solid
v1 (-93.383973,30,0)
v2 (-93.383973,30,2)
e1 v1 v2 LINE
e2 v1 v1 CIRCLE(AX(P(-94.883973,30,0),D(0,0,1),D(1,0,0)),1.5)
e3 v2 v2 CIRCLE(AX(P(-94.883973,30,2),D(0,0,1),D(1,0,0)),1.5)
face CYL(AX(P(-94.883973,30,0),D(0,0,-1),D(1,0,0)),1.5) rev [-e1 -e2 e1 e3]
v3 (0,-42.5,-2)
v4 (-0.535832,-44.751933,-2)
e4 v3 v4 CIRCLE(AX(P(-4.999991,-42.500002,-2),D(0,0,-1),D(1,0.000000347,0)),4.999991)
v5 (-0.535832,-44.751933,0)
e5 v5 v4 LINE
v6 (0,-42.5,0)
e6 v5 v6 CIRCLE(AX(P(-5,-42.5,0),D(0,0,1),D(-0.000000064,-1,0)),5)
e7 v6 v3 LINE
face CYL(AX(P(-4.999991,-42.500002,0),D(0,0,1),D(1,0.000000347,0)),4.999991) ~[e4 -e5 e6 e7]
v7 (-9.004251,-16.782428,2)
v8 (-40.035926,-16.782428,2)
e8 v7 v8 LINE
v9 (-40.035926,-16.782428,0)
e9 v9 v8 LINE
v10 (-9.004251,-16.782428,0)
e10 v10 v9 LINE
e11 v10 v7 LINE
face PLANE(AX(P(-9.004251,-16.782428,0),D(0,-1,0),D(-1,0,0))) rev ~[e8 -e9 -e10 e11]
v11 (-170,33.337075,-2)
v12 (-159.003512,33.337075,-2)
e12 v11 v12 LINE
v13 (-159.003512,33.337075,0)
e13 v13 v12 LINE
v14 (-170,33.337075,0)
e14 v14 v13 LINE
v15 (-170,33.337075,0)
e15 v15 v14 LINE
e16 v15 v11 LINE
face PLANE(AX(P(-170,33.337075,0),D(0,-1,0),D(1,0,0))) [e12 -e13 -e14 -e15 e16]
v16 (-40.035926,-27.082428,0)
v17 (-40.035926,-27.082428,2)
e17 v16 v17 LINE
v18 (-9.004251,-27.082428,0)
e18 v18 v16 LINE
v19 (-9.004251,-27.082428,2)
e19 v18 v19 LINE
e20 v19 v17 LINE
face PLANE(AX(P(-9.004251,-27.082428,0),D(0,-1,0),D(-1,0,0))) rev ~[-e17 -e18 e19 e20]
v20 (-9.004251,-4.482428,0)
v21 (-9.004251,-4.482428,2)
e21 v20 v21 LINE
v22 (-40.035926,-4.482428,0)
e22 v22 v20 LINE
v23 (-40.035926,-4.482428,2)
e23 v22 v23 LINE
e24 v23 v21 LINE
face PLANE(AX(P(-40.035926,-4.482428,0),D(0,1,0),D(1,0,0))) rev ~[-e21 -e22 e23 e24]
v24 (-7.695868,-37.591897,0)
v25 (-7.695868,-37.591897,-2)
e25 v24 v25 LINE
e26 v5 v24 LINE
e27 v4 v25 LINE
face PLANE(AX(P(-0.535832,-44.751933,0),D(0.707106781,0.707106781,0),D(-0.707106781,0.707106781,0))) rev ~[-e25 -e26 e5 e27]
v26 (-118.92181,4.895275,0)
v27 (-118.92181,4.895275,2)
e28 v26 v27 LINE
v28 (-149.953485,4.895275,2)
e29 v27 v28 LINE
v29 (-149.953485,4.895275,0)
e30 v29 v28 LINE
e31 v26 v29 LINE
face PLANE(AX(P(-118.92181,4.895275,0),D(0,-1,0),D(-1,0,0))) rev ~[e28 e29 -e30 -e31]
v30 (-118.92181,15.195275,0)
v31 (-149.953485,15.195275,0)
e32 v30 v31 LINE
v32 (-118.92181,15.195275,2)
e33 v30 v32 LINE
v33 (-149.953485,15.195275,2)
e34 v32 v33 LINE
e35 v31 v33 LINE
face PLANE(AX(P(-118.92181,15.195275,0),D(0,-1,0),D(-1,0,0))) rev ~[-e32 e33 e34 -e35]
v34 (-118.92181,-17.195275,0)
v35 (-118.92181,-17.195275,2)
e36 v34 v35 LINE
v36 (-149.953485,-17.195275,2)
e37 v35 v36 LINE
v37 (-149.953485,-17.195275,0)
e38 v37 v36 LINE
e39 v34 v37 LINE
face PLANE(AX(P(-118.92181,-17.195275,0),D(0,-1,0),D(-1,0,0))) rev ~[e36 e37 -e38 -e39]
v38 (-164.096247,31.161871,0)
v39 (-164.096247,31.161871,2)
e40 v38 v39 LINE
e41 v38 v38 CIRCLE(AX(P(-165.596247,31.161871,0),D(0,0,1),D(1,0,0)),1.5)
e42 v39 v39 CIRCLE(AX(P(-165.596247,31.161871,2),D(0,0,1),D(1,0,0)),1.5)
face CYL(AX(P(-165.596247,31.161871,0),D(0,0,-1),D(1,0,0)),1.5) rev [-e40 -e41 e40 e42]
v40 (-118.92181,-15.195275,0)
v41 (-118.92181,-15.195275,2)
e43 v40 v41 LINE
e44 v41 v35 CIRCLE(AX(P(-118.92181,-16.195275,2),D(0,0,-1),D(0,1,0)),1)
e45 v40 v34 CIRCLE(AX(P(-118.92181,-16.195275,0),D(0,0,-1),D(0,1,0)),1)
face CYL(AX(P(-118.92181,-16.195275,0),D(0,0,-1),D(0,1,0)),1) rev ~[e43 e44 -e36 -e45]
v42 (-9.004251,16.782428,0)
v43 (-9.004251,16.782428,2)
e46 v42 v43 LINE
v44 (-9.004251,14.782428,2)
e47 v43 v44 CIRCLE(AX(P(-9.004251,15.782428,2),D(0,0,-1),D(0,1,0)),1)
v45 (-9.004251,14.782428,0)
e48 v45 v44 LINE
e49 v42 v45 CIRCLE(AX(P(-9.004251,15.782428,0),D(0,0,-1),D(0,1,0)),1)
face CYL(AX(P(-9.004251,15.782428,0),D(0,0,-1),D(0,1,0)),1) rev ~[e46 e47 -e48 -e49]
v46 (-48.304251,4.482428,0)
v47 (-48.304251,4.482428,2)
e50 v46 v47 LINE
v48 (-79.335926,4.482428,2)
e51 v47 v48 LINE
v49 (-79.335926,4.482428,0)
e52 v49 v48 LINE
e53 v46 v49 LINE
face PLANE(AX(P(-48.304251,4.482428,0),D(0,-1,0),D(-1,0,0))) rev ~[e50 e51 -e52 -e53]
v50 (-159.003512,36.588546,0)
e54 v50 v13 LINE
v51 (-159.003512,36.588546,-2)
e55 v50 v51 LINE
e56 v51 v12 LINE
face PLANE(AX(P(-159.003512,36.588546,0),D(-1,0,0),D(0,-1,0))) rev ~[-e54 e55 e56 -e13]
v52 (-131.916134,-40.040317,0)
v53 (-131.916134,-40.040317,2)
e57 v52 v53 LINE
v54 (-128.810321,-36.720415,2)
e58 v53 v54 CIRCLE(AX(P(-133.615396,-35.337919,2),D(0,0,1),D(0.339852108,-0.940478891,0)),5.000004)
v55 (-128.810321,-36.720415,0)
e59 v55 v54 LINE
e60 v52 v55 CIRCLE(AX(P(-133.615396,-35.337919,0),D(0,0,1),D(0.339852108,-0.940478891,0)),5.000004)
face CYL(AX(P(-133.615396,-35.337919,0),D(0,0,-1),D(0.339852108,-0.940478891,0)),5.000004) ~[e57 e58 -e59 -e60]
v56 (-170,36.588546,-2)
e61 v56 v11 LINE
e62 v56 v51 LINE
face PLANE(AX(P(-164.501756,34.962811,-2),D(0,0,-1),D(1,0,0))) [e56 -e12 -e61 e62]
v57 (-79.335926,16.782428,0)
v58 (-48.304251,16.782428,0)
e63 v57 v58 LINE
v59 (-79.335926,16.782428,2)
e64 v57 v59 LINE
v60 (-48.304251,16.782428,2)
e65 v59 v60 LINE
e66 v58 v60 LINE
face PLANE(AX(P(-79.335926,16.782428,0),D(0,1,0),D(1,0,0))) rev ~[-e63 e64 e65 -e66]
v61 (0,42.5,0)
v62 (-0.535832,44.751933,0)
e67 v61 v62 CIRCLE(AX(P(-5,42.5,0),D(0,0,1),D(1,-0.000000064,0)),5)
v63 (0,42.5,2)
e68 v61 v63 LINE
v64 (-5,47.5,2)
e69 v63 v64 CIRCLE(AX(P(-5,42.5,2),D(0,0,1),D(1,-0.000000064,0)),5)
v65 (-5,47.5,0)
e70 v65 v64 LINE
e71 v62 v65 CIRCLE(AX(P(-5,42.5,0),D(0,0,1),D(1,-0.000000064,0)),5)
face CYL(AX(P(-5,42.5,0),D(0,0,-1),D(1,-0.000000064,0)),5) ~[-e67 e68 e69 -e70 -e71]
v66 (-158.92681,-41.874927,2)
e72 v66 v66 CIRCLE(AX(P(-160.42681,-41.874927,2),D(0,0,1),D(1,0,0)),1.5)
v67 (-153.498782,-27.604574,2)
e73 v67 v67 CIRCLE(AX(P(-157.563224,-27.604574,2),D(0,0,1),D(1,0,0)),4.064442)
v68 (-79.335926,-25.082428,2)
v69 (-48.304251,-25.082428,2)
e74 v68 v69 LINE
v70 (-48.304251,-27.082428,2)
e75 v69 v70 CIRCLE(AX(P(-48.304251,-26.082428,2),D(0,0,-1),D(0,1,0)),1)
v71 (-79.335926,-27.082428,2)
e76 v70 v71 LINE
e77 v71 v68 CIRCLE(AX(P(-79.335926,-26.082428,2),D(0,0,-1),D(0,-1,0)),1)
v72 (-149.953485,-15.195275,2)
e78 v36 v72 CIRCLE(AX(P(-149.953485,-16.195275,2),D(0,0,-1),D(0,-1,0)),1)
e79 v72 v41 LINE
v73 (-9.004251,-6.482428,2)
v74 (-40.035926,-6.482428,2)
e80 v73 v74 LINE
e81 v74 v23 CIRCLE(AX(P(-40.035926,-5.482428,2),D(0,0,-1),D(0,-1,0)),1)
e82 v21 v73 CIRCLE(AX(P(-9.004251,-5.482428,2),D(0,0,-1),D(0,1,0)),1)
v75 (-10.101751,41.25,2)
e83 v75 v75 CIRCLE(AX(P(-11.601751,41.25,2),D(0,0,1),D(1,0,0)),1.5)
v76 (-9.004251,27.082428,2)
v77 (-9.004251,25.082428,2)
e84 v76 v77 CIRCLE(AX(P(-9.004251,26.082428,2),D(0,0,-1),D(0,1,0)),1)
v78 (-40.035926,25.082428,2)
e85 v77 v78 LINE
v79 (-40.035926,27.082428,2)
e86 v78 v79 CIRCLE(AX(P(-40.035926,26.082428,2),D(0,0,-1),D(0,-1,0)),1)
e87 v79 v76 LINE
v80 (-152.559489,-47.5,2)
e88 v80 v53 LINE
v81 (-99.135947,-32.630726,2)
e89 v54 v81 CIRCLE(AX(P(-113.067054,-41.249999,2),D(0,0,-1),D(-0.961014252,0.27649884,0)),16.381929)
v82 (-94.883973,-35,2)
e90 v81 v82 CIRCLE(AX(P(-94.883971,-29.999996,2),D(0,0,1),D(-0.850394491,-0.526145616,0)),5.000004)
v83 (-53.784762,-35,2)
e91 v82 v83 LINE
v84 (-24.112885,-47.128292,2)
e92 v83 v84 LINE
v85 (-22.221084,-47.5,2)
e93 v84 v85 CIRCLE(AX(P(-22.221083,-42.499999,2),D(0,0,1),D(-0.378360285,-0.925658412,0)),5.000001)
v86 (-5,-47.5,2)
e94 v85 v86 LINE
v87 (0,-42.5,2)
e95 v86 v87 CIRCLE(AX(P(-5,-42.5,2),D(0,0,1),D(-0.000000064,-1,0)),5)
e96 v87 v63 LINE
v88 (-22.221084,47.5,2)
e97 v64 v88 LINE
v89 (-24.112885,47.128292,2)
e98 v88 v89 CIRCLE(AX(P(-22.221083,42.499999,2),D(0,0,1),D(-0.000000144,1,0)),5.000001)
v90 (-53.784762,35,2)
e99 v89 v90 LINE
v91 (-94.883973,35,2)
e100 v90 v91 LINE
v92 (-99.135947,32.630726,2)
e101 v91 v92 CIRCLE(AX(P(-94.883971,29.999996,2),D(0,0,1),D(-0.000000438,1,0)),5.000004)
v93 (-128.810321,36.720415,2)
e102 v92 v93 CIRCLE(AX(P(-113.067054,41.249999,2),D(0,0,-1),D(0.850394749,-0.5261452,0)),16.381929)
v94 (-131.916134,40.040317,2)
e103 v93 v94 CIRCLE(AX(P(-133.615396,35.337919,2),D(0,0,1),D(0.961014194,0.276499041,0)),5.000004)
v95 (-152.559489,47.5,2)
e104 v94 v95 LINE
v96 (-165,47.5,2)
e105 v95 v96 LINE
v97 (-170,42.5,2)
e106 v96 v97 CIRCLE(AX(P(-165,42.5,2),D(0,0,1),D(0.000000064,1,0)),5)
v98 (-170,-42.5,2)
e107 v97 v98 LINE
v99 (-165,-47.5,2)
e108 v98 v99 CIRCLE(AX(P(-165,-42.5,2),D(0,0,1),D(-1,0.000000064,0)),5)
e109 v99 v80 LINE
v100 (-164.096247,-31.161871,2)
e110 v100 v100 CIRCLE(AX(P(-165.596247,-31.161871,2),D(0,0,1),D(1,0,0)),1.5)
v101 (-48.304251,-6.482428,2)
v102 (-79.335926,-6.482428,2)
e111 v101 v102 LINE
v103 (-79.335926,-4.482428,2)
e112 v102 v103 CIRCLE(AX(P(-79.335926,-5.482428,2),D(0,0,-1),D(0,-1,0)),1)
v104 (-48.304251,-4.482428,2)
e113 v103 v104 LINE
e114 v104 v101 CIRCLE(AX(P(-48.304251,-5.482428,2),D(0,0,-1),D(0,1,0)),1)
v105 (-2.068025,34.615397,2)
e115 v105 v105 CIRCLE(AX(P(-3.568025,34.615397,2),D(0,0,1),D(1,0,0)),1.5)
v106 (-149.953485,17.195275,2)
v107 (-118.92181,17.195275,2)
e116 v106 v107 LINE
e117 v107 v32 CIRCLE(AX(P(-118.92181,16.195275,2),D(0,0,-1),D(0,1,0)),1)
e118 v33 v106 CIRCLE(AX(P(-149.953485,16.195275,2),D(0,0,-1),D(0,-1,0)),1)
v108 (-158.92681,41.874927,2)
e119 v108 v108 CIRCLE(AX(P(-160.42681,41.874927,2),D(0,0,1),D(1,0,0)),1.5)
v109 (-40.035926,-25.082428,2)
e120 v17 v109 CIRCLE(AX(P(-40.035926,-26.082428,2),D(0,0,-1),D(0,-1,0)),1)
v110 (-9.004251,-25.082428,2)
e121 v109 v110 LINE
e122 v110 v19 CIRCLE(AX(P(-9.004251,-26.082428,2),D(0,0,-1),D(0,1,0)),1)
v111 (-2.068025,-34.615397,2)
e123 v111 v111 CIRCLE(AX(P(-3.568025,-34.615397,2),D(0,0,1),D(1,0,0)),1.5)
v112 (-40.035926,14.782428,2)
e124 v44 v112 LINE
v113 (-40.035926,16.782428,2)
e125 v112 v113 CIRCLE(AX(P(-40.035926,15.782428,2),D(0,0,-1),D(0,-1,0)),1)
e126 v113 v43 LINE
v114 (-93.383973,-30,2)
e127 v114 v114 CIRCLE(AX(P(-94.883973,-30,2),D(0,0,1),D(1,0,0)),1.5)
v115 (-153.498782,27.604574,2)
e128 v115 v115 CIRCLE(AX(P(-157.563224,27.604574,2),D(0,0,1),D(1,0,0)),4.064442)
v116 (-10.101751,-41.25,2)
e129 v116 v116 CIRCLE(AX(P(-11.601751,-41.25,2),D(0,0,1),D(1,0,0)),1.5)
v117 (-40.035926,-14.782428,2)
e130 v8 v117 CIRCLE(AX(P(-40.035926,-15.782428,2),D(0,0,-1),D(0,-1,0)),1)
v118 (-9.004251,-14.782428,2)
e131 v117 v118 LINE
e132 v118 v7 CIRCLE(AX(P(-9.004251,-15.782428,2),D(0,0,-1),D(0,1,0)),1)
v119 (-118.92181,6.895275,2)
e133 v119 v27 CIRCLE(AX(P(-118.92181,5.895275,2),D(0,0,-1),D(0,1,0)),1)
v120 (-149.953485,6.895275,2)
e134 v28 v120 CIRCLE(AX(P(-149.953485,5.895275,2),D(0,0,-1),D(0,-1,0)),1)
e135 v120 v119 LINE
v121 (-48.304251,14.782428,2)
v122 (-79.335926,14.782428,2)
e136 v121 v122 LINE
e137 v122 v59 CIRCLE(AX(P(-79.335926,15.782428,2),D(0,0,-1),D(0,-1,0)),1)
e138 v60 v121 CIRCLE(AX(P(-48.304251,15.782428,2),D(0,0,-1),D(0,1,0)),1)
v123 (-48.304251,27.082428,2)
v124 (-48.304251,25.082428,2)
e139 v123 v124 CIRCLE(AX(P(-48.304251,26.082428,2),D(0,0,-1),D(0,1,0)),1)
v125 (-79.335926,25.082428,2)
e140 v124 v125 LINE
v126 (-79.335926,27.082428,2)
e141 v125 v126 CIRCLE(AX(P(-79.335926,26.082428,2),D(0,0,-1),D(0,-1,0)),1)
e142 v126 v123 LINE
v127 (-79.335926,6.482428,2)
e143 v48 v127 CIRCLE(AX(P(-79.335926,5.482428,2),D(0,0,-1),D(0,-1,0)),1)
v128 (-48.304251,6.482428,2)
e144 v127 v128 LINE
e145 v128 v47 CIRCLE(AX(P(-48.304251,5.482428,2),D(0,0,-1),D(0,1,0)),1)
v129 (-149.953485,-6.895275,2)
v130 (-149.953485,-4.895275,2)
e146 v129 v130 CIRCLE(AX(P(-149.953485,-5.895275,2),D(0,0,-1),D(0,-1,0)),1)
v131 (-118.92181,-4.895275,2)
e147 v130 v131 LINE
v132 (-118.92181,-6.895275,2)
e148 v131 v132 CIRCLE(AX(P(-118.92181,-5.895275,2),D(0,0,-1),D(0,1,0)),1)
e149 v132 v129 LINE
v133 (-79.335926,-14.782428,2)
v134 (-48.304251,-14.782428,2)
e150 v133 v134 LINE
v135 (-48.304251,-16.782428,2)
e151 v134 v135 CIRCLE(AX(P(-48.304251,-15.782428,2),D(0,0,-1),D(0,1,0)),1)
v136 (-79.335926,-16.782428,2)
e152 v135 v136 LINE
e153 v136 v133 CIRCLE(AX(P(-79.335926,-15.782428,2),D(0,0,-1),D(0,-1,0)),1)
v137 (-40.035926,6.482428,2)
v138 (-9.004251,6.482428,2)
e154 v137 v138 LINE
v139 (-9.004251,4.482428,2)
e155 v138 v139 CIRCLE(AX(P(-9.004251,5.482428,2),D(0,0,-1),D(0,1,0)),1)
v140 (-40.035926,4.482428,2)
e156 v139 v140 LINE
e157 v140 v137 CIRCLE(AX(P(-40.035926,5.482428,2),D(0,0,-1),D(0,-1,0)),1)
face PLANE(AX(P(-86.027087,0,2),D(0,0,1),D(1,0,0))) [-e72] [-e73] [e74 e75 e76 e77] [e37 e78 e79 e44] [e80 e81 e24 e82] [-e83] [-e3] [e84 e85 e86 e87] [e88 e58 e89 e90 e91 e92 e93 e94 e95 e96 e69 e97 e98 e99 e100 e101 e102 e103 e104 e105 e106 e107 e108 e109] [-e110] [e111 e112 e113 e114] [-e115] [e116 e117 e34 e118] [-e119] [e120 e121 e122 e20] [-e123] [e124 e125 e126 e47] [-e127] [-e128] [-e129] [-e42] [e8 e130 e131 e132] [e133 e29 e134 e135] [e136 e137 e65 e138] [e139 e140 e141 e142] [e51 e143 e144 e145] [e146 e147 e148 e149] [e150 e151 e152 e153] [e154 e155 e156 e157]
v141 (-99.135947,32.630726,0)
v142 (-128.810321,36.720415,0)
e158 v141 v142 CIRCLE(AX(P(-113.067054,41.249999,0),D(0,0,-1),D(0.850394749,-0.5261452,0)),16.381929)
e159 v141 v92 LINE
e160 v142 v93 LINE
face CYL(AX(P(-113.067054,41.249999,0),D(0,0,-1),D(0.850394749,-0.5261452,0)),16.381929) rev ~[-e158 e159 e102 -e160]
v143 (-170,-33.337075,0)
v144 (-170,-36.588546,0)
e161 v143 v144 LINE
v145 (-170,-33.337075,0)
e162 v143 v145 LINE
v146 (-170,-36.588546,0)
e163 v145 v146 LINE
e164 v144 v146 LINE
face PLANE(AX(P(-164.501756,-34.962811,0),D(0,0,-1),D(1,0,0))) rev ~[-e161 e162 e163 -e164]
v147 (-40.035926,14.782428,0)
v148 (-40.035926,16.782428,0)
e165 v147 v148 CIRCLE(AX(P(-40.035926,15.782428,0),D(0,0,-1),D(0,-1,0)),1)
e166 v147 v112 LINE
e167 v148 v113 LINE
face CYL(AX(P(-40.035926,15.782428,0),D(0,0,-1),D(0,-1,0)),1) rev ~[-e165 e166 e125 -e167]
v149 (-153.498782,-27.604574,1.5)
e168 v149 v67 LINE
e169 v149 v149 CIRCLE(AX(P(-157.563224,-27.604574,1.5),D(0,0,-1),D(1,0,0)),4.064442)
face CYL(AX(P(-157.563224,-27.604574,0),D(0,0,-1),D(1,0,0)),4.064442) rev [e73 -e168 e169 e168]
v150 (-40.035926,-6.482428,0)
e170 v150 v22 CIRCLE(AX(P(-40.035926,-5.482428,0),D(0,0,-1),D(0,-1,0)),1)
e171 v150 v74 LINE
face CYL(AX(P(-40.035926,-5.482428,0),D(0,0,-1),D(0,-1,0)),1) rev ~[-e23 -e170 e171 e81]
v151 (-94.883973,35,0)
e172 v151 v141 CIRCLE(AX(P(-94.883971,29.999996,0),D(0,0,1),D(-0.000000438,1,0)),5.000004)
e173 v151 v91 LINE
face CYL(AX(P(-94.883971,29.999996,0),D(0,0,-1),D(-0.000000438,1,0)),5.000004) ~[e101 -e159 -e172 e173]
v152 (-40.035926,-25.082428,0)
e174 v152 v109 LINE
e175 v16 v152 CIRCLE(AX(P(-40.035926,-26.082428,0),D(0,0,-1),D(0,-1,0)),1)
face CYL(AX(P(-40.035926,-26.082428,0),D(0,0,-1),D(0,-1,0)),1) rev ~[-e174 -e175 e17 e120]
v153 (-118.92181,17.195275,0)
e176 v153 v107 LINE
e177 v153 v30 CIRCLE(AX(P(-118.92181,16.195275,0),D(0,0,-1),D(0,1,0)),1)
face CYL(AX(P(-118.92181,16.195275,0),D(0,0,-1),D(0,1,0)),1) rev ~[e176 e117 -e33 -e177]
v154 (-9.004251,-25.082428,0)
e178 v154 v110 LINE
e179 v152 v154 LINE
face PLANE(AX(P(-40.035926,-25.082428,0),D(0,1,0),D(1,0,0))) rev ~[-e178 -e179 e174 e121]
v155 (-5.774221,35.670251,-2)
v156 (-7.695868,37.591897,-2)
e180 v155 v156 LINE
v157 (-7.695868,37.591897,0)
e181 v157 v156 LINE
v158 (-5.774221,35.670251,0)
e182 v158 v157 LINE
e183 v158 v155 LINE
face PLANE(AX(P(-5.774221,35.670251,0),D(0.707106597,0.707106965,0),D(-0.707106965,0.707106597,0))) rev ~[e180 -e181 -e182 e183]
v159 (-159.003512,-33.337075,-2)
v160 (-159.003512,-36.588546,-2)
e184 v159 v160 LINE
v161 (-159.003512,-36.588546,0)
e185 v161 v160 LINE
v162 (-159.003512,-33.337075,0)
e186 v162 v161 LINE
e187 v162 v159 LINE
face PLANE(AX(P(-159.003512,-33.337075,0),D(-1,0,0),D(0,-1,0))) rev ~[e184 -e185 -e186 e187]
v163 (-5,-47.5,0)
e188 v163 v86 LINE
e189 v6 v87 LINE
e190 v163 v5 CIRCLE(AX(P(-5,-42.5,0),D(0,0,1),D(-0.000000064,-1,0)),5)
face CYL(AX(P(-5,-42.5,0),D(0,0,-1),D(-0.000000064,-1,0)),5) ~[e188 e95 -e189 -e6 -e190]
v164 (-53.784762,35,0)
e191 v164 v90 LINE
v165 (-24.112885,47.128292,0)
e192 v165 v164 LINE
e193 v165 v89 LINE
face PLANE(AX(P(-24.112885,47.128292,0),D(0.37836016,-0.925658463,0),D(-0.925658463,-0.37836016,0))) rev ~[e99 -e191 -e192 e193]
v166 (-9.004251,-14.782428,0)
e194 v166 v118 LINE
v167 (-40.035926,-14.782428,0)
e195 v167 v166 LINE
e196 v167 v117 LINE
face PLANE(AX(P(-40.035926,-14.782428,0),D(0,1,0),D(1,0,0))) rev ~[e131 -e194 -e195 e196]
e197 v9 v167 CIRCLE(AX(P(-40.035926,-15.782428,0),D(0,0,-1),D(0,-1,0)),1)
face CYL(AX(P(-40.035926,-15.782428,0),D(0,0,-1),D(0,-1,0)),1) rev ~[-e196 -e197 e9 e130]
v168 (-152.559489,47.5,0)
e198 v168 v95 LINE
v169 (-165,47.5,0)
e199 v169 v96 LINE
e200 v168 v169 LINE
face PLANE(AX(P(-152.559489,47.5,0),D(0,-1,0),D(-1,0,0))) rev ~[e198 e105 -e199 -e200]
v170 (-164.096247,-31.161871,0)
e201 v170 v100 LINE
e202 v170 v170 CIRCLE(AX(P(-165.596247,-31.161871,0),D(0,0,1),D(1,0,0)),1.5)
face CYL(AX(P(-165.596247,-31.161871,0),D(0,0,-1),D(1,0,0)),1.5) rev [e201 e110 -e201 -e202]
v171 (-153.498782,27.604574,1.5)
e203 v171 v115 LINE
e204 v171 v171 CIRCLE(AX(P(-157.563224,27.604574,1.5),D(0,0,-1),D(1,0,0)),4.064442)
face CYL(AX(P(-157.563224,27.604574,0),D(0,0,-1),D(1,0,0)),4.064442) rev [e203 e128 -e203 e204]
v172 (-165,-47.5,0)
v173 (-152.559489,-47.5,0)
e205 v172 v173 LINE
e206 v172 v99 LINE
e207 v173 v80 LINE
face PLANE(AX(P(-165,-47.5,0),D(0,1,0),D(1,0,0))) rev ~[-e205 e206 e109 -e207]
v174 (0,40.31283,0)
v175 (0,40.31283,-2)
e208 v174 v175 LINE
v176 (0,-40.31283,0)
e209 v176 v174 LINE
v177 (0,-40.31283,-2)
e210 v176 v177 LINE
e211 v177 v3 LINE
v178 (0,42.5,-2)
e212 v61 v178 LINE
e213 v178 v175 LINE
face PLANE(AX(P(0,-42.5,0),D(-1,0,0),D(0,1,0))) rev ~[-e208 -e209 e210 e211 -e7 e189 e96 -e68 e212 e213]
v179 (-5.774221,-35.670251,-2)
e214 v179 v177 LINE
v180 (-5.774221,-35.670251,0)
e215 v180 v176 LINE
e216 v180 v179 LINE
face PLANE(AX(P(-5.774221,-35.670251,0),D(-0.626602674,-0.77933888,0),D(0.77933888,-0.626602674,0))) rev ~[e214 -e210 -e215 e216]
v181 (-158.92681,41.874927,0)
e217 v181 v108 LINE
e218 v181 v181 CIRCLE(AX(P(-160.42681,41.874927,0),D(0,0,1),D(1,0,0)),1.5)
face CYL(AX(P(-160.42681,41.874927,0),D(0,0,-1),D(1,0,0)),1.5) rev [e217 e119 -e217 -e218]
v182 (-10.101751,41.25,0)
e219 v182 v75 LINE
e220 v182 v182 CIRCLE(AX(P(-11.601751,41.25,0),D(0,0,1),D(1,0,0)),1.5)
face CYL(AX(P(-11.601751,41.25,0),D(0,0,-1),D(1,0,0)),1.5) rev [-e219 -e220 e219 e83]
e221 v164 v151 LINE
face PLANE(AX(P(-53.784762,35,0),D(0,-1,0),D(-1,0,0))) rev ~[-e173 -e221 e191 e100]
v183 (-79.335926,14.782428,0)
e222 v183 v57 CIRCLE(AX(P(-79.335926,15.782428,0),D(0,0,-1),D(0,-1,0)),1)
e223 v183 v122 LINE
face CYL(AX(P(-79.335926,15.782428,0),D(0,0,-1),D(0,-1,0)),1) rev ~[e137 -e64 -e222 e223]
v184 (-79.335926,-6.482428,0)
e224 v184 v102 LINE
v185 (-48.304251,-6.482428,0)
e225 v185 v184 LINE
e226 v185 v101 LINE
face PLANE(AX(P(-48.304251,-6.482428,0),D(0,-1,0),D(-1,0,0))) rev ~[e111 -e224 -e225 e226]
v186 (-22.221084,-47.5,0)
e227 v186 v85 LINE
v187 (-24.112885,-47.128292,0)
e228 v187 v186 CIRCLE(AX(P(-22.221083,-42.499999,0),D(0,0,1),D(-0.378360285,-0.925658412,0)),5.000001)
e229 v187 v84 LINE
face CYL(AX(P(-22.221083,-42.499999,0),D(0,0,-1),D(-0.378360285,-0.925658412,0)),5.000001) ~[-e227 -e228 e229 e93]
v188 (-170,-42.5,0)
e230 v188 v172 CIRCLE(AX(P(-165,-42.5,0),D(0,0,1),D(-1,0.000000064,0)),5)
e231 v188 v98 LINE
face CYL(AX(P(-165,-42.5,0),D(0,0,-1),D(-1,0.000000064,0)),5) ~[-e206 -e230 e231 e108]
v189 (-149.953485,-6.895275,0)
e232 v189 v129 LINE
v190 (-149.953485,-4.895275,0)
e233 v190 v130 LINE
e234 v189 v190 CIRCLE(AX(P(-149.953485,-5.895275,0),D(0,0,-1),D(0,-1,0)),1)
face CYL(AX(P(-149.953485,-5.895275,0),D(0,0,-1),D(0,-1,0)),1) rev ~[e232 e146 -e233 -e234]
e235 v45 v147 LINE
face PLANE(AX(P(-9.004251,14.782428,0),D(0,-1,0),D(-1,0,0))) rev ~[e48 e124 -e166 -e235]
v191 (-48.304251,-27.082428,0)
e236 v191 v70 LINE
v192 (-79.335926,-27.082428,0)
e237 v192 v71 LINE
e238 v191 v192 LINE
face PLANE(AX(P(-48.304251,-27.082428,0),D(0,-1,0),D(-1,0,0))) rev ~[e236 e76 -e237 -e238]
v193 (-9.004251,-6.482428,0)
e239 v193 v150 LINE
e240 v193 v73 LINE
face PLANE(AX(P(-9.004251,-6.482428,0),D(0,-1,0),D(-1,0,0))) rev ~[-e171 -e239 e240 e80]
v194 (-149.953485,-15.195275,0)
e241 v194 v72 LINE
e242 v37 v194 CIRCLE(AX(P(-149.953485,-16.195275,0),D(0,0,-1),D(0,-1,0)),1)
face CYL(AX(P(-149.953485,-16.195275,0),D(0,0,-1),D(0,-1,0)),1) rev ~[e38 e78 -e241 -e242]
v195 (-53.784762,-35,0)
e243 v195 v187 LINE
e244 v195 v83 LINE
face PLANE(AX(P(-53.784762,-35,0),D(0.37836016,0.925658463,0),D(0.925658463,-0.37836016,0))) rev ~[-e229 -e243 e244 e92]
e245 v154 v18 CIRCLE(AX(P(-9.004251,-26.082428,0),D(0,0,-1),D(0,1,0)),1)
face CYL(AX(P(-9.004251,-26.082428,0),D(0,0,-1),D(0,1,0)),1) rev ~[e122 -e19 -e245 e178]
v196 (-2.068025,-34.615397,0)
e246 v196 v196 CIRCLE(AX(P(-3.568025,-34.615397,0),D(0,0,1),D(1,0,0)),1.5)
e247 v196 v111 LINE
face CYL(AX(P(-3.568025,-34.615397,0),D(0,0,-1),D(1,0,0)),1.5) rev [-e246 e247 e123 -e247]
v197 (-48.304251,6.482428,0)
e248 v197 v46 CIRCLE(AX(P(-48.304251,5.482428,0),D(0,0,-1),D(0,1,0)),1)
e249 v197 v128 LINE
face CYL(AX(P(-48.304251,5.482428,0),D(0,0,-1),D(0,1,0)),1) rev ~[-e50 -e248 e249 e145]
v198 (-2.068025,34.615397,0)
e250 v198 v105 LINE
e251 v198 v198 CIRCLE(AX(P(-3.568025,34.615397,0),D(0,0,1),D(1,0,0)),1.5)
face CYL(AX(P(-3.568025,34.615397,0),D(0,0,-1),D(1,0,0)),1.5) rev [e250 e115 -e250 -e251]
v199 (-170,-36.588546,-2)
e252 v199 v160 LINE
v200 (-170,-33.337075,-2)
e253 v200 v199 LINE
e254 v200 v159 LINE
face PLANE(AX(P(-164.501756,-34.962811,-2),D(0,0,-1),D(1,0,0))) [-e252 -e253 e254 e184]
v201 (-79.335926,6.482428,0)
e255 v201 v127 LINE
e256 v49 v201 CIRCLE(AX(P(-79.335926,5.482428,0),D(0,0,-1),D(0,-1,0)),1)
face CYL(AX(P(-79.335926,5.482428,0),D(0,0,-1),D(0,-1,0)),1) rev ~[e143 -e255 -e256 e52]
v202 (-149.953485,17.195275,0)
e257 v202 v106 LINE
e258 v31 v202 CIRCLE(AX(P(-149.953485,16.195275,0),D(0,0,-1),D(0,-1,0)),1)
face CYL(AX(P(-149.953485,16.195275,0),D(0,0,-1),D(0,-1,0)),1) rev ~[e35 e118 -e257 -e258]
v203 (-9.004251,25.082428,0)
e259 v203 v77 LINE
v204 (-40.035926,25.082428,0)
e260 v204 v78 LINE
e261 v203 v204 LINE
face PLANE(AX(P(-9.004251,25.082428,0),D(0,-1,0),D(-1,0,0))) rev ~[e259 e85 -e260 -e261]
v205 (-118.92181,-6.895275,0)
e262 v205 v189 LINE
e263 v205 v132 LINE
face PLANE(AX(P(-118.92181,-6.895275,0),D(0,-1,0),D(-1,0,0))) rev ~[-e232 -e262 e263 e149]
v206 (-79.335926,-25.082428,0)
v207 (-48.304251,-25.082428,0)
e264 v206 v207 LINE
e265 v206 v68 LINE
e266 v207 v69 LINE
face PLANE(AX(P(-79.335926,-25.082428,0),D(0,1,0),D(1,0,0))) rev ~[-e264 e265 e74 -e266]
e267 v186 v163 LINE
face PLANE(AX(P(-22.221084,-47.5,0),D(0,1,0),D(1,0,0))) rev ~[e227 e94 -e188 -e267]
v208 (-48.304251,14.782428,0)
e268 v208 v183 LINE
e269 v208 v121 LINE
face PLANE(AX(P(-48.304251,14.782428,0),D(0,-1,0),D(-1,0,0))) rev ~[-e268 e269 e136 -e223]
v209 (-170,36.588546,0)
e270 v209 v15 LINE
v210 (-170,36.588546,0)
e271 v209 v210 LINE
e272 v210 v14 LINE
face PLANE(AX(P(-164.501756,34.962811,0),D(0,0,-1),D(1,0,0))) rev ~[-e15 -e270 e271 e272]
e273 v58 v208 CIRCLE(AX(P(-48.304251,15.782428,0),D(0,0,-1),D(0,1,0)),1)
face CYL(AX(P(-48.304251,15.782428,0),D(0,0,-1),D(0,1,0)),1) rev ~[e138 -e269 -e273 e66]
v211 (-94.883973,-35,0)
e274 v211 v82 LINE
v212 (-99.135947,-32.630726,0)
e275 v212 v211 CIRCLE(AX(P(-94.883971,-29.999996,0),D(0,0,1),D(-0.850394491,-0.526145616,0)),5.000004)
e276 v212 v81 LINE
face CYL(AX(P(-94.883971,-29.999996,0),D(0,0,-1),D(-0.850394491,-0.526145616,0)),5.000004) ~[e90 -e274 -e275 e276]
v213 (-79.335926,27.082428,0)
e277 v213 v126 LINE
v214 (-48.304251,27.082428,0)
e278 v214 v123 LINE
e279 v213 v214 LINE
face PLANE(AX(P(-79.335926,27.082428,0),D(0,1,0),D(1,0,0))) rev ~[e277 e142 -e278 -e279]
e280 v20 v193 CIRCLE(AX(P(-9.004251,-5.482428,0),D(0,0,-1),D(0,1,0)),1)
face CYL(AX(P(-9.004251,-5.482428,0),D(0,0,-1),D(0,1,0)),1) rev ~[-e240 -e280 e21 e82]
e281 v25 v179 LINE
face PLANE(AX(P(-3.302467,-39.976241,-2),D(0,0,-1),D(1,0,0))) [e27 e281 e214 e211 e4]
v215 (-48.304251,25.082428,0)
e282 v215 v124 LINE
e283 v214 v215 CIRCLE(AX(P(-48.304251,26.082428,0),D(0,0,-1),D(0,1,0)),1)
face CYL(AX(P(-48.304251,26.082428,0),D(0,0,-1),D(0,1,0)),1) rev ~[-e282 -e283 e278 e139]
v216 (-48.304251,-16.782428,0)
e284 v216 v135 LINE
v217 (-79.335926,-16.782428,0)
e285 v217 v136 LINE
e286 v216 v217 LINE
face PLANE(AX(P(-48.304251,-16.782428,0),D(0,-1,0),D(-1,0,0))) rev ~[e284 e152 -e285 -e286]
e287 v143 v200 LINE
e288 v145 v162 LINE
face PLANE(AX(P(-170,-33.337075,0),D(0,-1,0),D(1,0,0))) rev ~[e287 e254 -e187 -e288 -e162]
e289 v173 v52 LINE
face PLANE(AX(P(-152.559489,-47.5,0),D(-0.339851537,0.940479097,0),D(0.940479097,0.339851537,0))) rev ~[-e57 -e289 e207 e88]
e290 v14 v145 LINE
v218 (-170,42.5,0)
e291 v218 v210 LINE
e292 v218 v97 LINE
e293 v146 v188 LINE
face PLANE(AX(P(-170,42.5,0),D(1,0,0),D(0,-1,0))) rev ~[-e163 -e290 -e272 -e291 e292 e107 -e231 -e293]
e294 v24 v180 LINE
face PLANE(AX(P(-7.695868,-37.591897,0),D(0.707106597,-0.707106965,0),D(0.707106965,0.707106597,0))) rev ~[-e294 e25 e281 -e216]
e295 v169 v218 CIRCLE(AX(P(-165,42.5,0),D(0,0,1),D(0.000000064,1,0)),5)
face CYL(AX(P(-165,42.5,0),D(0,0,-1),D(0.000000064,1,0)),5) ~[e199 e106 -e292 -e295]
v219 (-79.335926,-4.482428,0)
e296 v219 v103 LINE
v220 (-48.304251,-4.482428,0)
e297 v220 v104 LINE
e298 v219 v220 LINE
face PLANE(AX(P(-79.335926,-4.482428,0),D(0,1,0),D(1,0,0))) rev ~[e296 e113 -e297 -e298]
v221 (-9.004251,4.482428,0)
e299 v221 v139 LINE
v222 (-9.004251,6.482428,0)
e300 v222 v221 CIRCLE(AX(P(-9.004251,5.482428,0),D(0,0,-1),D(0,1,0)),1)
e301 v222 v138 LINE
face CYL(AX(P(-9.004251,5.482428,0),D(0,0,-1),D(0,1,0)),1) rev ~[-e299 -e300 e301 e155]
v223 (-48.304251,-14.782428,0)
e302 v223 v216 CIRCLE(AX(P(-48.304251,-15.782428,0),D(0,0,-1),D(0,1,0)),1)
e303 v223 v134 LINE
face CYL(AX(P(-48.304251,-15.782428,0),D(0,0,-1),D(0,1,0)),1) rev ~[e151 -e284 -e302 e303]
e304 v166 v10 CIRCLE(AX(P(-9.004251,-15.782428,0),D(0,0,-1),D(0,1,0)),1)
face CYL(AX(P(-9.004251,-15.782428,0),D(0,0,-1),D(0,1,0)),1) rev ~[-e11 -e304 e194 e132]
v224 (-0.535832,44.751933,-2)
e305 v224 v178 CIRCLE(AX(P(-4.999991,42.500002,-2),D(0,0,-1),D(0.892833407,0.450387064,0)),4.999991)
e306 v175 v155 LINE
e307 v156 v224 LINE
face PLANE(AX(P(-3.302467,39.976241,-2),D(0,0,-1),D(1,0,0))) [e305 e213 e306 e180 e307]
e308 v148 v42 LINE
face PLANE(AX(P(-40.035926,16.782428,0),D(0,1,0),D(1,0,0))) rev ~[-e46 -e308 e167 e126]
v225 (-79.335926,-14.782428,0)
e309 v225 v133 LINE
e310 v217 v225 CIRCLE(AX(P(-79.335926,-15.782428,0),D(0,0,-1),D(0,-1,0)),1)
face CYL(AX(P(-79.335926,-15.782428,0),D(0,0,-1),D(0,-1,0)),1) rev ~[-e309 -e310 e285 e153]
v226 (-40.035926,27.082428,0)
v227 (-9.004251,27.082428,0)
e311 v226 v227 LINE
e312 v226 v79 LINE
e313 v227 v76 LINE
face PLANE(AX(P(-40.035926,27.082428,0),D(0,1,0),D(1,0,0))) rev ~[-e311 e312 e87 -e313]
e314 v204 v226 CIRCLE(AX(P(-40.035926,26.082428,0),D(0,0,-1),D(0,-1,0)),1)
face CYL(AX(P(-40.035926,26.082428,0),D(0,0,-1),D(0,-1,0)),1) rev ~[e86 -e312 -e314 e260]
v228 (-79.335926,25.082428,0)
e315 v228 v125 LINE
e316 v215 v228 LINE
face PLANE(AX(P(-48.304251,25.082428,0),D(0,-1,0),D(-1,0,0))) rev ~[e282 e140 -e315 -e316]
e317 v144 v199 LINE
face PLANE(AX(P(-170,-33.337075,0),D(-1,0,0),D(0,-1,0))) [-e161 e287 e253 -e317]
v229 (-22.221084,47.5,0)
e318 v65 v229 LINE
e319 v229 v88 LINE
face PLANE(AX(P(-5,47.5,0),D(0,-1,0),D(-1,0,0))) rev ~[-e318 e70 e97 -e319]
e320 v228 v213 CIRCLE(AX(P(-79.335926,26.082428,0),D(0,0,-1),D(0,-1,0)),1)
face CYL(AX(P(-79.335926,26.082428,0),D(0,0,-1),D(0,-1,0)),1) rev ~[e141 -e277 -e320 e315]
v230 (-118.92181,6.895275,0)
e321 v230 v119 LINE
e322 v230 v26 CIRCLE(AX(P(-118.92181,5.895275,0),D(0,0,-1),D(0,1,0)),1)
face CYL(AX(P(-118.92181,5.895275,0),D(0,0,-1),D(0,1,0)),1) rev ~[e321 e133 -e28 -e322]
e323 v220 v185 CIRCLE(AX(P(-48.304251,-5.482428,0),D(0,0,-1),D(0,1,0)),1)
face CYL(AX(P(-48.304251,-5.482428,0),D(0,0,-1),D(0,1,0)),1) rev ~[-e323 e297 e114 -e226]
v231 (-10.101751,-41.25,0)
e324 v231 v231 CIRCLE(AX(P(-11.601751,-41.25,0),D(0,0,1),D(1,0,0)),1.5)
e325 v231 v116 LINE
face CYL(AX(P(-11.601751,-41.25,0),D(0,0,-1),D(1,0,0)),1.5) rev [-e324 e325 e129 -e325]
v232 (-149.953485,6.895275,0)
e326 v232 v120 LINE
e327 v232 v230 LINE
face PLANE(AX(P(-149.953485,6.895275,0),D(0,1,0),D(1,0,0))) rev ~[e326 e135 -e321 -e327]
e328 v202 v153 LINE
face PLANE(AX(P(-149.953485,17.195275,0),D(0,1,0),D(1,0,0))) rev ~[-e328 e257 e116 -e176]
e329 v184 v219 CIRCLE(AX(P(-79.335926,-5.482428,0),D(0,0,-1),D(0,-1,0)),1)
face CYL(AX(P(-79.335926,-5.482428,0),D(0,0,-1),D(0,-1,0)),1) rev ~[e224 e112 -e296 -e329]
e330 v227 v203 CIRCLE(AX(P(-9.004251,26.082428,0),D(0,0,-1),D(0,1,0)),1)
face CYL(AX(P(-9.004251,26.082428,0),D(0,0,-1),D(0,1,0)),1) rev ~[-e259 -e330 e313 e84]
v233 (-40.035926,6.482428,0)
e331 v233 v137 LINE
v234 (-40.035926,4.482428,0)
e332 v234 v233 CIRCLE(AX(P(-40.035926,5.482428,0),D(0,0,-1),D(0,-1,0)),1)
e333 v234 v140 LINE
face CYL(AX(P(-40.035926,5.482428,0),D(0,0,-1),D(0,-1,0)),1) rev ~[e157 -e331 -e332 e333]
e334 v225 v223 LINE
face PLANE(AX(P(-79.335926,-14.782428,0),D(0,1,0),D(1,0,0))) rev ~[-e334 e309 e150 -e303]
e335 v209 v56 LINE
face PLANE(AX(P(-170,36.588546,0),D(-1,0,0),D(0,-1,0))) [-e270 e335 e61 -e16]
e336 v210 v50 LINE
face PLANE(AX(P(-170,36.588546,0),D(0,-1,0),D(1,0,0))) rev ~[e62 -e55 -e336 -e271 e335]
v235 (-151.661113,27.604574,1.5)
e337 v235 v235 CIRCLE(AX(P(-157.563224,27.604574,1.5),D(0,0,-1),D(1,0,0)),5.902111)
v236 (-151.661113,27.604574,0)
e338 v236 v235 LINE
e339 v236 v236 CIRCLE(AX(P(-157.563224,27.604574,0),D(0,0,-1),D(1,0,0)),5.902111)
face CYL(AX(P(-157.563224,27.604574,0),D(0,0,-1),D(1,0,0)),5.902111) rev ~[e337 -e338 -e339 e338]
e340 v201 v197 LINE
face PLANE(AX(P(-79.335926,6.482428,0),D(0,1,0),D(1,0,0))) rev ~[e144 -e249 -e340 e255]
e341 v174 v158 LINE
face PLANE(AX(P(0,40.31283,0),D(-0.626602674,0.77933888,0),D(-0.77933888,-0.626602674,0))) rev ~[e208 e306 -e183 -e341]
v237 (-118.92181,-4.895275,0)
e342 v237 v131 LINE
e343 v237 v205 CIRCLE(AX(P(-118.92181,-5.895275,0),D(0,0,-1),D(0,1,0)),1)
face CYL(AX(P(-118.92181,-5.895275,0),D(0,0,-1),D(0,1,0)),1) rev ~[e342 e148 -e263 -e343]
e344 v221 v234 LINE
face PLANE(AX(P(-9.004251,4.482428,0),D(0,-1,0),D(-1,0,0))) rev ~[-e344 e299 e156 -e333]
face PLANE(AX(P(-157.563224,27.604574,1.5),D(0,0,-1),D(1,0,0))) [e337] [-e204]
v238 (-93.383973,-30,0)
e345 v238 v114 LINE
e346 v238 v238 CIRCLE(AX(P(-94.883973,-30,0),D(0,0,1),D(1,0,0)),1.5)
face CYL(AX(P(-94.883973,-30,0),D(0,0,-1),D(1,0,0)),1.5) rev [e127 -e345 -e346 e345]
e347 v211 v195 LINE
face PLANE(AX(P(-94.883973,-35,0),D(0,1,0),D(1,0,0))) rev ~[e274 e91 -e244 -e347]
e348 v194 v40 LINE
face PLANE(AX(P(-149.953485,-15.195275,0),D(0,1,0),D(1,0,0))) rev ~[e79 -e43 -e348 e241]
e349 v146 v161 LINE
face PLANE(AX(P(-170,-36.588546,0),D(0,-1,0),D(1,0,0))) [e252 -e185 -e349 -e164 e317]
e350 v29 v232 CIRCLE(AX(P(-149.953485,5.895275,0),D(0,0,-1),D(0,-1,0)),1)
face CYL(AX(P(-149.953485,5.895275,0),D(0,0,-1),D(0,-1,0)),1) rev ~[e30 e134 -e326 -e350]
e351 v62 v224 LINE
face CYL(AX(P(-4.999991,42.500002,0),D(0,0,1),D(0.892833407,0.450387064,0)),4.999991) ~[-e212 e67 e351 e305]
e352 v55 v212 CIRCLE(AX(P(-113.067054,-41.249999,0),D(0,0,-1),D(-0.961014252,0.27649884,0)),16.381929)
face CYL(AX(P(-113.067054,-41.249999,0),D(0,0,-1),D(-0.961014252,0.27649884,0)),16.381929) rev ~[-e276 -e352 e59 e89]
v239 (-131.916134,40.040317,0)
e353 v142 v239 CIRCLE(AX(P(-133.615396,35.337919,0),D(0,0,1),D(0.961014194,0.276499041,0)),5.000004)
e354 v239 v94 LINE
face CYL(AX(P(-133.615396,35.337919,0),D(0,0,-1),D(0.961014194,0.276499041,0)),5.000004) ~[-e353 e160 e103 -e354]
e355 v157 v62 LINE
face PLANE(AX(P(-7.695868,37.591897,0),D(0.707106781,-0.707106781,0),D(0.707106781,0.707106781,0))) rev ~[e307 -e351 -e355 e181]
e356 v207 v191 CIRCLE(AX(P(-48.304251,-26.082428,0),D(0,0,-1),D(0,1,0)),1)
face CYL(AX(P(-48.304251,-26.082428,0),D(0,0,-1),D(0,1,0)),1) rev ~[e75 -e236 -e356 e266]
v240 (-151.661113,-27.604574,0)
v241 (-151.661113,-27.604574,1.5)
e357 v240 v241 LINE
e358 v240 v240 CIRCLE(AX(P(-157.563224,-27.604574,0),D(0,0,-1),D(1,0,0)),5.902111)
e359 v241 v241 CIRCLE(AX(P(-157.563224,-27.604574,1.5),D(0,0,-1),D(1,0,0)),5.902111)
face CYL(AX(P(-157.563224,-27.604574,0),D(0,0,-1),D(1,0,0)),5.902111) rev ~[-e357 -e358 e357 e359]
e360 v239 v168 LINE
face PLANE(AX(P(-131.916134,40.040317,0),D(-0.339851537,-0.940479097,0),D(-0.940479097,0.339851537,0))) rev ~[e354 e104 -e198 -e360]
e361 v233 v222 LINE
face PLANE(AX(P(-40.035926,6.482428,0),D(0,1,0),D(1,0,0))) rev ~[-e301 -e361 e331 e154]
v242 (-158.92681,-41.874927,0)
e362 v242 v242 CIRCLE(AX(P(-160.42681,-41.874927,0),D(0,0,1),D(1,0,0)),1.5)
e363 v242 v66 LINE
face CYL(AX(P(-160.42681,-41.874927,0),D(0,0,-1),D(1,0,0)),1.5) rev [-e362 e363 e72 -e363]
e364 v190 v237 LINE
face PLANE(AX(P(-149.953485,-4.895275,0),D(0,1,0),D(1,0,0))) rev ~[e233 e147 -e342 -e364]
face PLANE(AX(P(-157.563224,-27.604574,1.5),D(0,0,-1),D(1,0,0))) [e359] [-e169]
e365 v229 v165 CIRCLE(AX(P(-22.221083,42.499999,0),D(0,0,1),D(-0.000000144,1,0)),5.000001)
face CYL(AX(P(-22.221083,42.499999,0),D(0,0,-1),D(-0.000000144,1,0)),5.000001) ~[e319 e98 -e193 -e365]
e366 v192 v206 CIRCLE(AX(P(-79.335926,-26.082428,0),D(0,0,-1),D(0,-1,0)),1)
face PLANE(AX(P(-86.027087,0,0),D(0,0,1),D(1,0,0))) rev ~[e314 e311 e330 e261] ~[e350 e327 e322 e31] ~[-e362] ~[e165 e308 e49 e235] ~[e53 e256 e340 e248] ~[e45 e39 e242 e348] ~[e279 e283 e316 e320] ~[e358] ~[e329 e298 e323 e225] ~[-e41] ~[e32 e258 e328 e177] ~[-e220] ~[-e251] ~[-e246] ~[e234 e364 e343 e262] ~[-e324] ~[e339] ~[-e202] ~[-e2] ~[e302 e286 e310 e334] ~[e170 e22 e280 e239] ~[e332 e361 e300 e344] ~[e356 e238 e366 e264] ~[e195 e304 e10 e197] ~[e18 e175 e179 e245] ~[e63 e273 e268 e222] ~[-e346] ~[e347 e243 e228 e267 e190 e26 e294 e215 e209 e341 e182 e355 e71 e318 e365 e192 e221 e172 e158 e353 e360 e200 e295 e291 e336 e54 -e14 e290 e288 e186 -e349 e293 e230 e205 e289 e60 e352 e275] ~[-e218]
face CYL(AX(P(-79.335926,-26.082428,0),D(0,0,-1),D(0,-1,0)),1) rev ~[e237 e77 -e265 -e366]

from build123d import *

# Parameters (mm, degrees)
F0_R     = 1.5
F0_R_2   = 4.064442
F1_DEPTH = 2
F2_W     = 10.996489
F2_H     = 3.251471
F3_DEPTH = 2
F4_R     = 5.902111
F5_DEPTH = 1.5


with BuildPart() as f1:
    # F0 (on Top) → F1 (new body)
    with BuildSketch(Plane.XY):
        with BuildLine():
            ThreePointArc((0, 42.5), (-1.464466, 46.035534), (-5, 47.5))
            Line((-5, 47.5), (-22.221084, 47.5))
            ThreePointArc((-22.221084, 47.5), (-23.18507, 47.406193), (-24.112885, 47.128292))
            Line((-24.112885, 47.128292), (-53.784762, 35))
            Line((-53.784762, 35), (-94.883973, 35))
            ThreePointArc((-94.883973, 35), (-97.317732, 34.367701), (-99.135947, 32.630726))
            ThreePointArc((-99.135947, 32.630726), (-115.303652, 25.021468), (-128.810321, 36.720415))
            ThreePointArc((-128.810321, 36.720415), (-129.96409, 38.753765), (-131.916134, 40.040317))
            Line((-131.916134, 40.040317), (-152.559489, 47.5))
            Line((-152.559489, 47.5), (-165, 47.5))
            ThreePointArc((-165, 47.5), (-168.535534, 46.035534), (-170, 42.5))
            Line((-170, 42.5), (-170, 35))
            Line((-170, 35), (-170, 0))
            Line((-170, 0), (-170, -35))
            Line((-170, -35), (-170, -42.5))
            ThreePointArc((-170, -42.5), (-168.535534, -46.035534), (-165, -47.5))
            Line((-165, -47.5), (-152.559489, -47.5))
            Line((-152.559489, -47.5), (-131.916134, -40.040317))
            ThreePointArc((-131.916134, -40.040317), (-129.96409, -38.753765), (-128.810321, -36.720415))
            ThreePointArc((-128.810321, -36.720415), (-115.303652, -25.021468), (-99.135947, -32.630726))
            ThreePointArc((-99.135947, -32.630726), (-97.317732, -34.367701), (-94.883973, -35))
            Line((-94.883973, -35), (-53.784762, -35))
            Line((-53.784762, -35), (-24.112885, -47.128292))
            ThreePointArc((-24.112885, -47.128292), (-23.18507, -47.406193), (-22.221084, -47.5))
            Line((-22.221084, -47.5), (-5, -47.5))
            ThreePointArc((-5, -47.5), (-1.464466, -46.035534), (0, -42.5))
            Line((0, -42.5), (0, -35))
            Line((0, -35), (0, 0))
            Line((0, 0), (0, 35))
            Line((0, 35), (0, 42.5))
        make_face()
        with Locations((-160.42681, -41.874927)):
            Circle(F0_R, mode=Mode.SUBTRACT)
        with Locations((-165.596247, -31.161871)):
            Circle(F0_R, mode=Mode.SUBTRACT)
        with Locations((-157.563224, -27.604574)):
            Circle(F0_R_2, mode=Mode.SUBTRACT)
        with Locations((-94.883973, -30)):
            Circle(F0_R, mode=Mode.SUBTRACT)
        with BuildLine():
            Line((-149.953485, -15.195275), (-118.92181, -15.195275))
            ThreePointArc((-118.92181, -15.195275), (-117.92181, -16.195275), (-118.92181, -17.195275))
            Line((-118.92181, -17.195275), (-149.953485, -17.195275))
            ThreePointArc((-149.953485, -17.195275), (-150.953485, -16.195275), (-149.953485, -15.195275))
        make_face(mode=Mode.SUBTRACT)
        with BuildLine():
            ThreePointArc((-118.92181, -4.895275), (-117.92181, -5.895275), (-118.92181, -6.895275))
            Line((-118.92181, -6.895275), (-149.953485, -6.895275))
            ThreePointArc((-149.953485, -6.895275), (-150.953485, -5.895275), (-149.953485, -4.895275))
            Line((-149.953485, -4.895275), (-118.92181, -4.895275))
        make_face(mode=Mode.SUBTRACT)
        with BuildLine():
            ThreePointArc((-48.304251, -25.082428), (-47.304251, -26.082428), (-48.304251, -27.082428))
            Line((-48.304251, -27.082428), (-79.335926, -27.082428))
            ThreePointArc((-79.335926, -27.082428), (-80.335926, -26.082428), (-79.335926, -25.082428))
            Line((-79.335926, -25.082428), (-48.304251, -25.082428))
        make_face(mode=Mode.SUBTRACT)
        with Locations((-11.601751, -41.25)):
            Circle(F0_R, mode=Mode.SUBTRACT)
        with BuildLine():
            Line((-40.035926, -25.082428), (-9.004251, -25.082428))
            ThreePointArc((-9.004251, -25.082428), (-8.004251, -26.082428), (-9.004251, -27.082428))
            Line((-9.004251, -27.082428), (-40.035926, -27.082428))
            ThreePointArc((-40.035926, -27.082428), (-41.035926, -26.082428), (-40.035926, -25.082428))
        make_face(mode=Mode.SUBTRACT)
        with Locations((-3.568025, -34.615397)):
            Circle(F0_R, mode=Mode.SUBTRACT)
        with BuildLine():
            Line((-79.335926, -14.782428), (-48.304251, -14.782428))
            ThreePointArc((-48.304251, -14.782428), (-47.304251, -15.782428), (-48.304251, -16.782428))
            Line((-48.304251, -16.782428), (-79.335926, -16.782428))
            ThreePointArc((-79.335926, -16.782428), (-80.335926, -15.782428), (-79.335926, -14.782428))
        make_face(mode=Mode.SUBTRACT)
        with BuildLine():
            ThreePointArc((-48.304251, -4.482428), (-47.304251, -5.482428), (-48.304251, -6.482428))
            Line((-48.304251, -6.482428), (-79.335926, -6.482428))
            ThreePointArc((-79.335926, -6.482428), (-80.335926, -5.482428), (-79.335926, -4.482428))
            Line((-79.335926, -4.482428), (-48.304251, -4.482428))
        make_face(mode=Mode.SUBTRACT)
        with BuildLine():
            Line((-40.035926, -14.782428), (-9.004251, -14.782428))
            ThreePointArc((-9.004251, -14.782428), (-8.004251, -15.782428), (-9.004251, -16.782428))
            Line((-9.004251, -16.782428), (-40.035926, -16.782428))
            ThreePointArc((-40.035926, -16.782428), (-41.035926, -15.782428), (-40.035926, -14.782428))
        make_face(mode=Mode.SUBTRACT)
        with BuildLine():
            ThreePointArc((-9.004251, -4.482428), (-8.004251, -5.482428), (-9.004251, -6.482428))
            Line((-9.004251, -6.482428), (-40.035926, -6.482428))
            ThreePointArc((-40.035926, -6.482428), (-41.035926, -5.482428), (-40.035926, -4.482428))
            Line((-40.035926, -4.482428), (-9.004251, -4.482428))
        make_face(mode=Mode.SUBTRACT)
        with BuildLine():
            Line((-149.953485, 6.895275), (-118.92181, 6.895275))
            ThreePointArc((-118.92181, 6.895275), (-117.92181, 5.895275), (-118.92181, 4.895275))
            Line((-118.92181, 4.895275), (-149.953485, 4.895275))
            ThreePointArc((-149.953485, 4.895275), (-150.953485, 5.895275), (-149.953485, 6.895275))
        make_face(mode=Mode.SUBTRACT)
        with BuildLine():
            Line((-149.953485, 17.195275), (-118.92181, 17.195275))
            ThreePointArc((-118.92181, 17.195275), (-117.92181, 16.195275), (-118.92181, 15.195275))
            Line((-118.92181, 15.195275), (-149.953485, 15.195275))
            ThreePointArc((-149.953485, 15.195275), (-150.953485, 16.195275), (-149.953485, 17.195275))
        make_face(mode=Mode.SUBTRACT)
        with Locations((-157.563224, 27.604574)):
            Circle(F0_R_2, mode=Mode.SUBTRACT)
        with Locations((-165.596247, 31.161871)):
            Circle(F0_R, mode=Mode.SUBTRACT)
        with Locations((-160.42681, 41.874927)):
            Circle(F0_R, mode=Mode.SUBTRACT)
        with Locations((-94.883973, 30)):
            Circle(F0_R, mode=Mode.SUBTRACT)
        with BuildLine():
            Line((-79.335926, 6.482428), (-48.304251, 6.482428))
            ThreePointArc((-48.304251, 6.482428), (-47.304251, 5.482428), (-48.304251, 4.482428))
            Line((-48.304251, 4.482428), (-79.335926, 4.482428))
            ThreePointArc((-79.335926, 4.482428), (-80.335926, 5.482428), (-79.335926, 6.482428))
        make_face(mode=Mode.SUBTRACT)
        with BuildLine():
            Line((-79.335926, 16.782428), (-48.304251, 16.782428))
            ThreePointArc((-48.304251, 16.782428), (-47.304251, 15.782428), (-48.304251, 14.782428))
            Line((-48.304251, 14.782428), (-79.335926, 14.782428))
            ThreePointArc((-79.335926, 14.782428), (-80.335926, 15.782428), (-79.335926, 16.782428))
        make_face(mode=Mode.SUBTRACT)
        with BuildLine():
            Line((-40.035926, 6.482428), (-9.004251, 6.482428))
            ThreePointArc((-9.004251, 6.482428), (-8.004251, 5.482428), (-9.004251, 4.482428))
            Line((-9.004251, 4.482428), (-40.035926, 4.482428))
            ThreePointArc((-40.035926, 4.482428), (-41.035926, 5.482428), (-40.035926, 6.482428))
        make_face(mode=Mode.SUBTRACT)
        with BuildLine():
            Line((-40.035926, 16.782428), (-9.004251, 16.782428))
            ThreePointArc((-9.004251, 16.782428), (-8.004251, 15.782428), (-9.004251, 14.782428))
            Line((-9.004251, 14.782428), (-40.035926, 14.782428))
            ThreePointArc((-40.035926, 14.782428), (-41.035926, 15.782428), (-40.035926, 16.782428))
        make_face(mode=Mode.SUBTRACT)
        with BuildLine():
            Line((-79.335926, 27.082428), (-48.304251, 27.082428))
            ThreePointArc((-48.304251, 27.082428), (-47.304251, 26.082428), (-48.304251, 25.082428))
            Line((-48.304251, 25.082428), (-79.335926, 25.082428))
            ThreePointArc((-79.335926, 25.082428), (-80.335926, 26.082428), (-79.335926, 27.082428))
        make_face(mode=Mode.SUBTRACT)
        with BuildLine():
            Line((-40.035926, 27.082428), (-9.004251, 27.082428))
            ThreePointArc((-9.004251, 27.082428), (-8.004251, 26.082428), (-9.004251, 25.082428))
            Line((-9.004251, 25.082428), (-40.035926, 25.082428))
            ThreePointArc((-40.035926, 25.082428), (-41.035926, 26.082428), (-40.035926, 27.082428))
        make_face(mode=Mode.SUBTRACT)
        with Locations((-3.568025, 34.615397)):
            Circle(F0_R, mode=Mode.SUBTRACT)
        with Locations((-11.601751, 41.25)):
            Circle(F0_R, mode=Mode.SUBTRACT)
    extrude(amount=F1_DEPTH)

    # F2 (on face) → F3 (join)
    with BuildSketch(Plane(origin=(0, 0, 0), x_dir=(1, 0, 0), z_dir=(0, 0, -1))):
        with Locations((-164.501756, 34.962811)):
            Rectangle(F2_W, F2_H)
        with BuildLine():
            Line((-0.535832, 44.751933), (-7.695868, 37.591897))
            Line((-7.695868, 37.591897), (-5.774221, 35.670251))
            Line((-5.774221, 35.670251), (0, 40.31283))
            Line((0, 40.31283), (0, 42.5))
            ThreePointArc((0, 42.5), (-0.135802, 43.657402), (-0.535832, 44.751933))
        make_face()
        with BuildLine():
            Line((0, -42.5), (0, -40.31283))
            Line((0, -40.31283), (-5.774221, -35.670251))
            Line((-5.774221, -35.670251), (-7.695868, -37.591897))
            Line((-7.695868, -37.591897), (-0.535832, -44.751933))
            ThreePointArc((-0.535832, -44.751933), (-0.135802, -43.657402), (0, -42.5))
        make_face()
        with Locations((-164.501756, -34.962811)):
            Rectangle(F2_W, F2_H)
    extrude(amount=F3_DEPTH)

    # F4 (on face) → F5 (cut)
    with BuildSketch(Plane(origin=(0, 0, 0), x_dir=(1, 0, 0), z_dir=(0, 0, -1))):
        with Locations((-157.563224, 27.604574)):
            Circle(F4_R)
        with Locations((-157.563224, -27.604574)):
            Circle(F4_R)
    extrude(amount=-F5_DEPTH, mode=Mode.SUBTRACT)


solid = f1.part
